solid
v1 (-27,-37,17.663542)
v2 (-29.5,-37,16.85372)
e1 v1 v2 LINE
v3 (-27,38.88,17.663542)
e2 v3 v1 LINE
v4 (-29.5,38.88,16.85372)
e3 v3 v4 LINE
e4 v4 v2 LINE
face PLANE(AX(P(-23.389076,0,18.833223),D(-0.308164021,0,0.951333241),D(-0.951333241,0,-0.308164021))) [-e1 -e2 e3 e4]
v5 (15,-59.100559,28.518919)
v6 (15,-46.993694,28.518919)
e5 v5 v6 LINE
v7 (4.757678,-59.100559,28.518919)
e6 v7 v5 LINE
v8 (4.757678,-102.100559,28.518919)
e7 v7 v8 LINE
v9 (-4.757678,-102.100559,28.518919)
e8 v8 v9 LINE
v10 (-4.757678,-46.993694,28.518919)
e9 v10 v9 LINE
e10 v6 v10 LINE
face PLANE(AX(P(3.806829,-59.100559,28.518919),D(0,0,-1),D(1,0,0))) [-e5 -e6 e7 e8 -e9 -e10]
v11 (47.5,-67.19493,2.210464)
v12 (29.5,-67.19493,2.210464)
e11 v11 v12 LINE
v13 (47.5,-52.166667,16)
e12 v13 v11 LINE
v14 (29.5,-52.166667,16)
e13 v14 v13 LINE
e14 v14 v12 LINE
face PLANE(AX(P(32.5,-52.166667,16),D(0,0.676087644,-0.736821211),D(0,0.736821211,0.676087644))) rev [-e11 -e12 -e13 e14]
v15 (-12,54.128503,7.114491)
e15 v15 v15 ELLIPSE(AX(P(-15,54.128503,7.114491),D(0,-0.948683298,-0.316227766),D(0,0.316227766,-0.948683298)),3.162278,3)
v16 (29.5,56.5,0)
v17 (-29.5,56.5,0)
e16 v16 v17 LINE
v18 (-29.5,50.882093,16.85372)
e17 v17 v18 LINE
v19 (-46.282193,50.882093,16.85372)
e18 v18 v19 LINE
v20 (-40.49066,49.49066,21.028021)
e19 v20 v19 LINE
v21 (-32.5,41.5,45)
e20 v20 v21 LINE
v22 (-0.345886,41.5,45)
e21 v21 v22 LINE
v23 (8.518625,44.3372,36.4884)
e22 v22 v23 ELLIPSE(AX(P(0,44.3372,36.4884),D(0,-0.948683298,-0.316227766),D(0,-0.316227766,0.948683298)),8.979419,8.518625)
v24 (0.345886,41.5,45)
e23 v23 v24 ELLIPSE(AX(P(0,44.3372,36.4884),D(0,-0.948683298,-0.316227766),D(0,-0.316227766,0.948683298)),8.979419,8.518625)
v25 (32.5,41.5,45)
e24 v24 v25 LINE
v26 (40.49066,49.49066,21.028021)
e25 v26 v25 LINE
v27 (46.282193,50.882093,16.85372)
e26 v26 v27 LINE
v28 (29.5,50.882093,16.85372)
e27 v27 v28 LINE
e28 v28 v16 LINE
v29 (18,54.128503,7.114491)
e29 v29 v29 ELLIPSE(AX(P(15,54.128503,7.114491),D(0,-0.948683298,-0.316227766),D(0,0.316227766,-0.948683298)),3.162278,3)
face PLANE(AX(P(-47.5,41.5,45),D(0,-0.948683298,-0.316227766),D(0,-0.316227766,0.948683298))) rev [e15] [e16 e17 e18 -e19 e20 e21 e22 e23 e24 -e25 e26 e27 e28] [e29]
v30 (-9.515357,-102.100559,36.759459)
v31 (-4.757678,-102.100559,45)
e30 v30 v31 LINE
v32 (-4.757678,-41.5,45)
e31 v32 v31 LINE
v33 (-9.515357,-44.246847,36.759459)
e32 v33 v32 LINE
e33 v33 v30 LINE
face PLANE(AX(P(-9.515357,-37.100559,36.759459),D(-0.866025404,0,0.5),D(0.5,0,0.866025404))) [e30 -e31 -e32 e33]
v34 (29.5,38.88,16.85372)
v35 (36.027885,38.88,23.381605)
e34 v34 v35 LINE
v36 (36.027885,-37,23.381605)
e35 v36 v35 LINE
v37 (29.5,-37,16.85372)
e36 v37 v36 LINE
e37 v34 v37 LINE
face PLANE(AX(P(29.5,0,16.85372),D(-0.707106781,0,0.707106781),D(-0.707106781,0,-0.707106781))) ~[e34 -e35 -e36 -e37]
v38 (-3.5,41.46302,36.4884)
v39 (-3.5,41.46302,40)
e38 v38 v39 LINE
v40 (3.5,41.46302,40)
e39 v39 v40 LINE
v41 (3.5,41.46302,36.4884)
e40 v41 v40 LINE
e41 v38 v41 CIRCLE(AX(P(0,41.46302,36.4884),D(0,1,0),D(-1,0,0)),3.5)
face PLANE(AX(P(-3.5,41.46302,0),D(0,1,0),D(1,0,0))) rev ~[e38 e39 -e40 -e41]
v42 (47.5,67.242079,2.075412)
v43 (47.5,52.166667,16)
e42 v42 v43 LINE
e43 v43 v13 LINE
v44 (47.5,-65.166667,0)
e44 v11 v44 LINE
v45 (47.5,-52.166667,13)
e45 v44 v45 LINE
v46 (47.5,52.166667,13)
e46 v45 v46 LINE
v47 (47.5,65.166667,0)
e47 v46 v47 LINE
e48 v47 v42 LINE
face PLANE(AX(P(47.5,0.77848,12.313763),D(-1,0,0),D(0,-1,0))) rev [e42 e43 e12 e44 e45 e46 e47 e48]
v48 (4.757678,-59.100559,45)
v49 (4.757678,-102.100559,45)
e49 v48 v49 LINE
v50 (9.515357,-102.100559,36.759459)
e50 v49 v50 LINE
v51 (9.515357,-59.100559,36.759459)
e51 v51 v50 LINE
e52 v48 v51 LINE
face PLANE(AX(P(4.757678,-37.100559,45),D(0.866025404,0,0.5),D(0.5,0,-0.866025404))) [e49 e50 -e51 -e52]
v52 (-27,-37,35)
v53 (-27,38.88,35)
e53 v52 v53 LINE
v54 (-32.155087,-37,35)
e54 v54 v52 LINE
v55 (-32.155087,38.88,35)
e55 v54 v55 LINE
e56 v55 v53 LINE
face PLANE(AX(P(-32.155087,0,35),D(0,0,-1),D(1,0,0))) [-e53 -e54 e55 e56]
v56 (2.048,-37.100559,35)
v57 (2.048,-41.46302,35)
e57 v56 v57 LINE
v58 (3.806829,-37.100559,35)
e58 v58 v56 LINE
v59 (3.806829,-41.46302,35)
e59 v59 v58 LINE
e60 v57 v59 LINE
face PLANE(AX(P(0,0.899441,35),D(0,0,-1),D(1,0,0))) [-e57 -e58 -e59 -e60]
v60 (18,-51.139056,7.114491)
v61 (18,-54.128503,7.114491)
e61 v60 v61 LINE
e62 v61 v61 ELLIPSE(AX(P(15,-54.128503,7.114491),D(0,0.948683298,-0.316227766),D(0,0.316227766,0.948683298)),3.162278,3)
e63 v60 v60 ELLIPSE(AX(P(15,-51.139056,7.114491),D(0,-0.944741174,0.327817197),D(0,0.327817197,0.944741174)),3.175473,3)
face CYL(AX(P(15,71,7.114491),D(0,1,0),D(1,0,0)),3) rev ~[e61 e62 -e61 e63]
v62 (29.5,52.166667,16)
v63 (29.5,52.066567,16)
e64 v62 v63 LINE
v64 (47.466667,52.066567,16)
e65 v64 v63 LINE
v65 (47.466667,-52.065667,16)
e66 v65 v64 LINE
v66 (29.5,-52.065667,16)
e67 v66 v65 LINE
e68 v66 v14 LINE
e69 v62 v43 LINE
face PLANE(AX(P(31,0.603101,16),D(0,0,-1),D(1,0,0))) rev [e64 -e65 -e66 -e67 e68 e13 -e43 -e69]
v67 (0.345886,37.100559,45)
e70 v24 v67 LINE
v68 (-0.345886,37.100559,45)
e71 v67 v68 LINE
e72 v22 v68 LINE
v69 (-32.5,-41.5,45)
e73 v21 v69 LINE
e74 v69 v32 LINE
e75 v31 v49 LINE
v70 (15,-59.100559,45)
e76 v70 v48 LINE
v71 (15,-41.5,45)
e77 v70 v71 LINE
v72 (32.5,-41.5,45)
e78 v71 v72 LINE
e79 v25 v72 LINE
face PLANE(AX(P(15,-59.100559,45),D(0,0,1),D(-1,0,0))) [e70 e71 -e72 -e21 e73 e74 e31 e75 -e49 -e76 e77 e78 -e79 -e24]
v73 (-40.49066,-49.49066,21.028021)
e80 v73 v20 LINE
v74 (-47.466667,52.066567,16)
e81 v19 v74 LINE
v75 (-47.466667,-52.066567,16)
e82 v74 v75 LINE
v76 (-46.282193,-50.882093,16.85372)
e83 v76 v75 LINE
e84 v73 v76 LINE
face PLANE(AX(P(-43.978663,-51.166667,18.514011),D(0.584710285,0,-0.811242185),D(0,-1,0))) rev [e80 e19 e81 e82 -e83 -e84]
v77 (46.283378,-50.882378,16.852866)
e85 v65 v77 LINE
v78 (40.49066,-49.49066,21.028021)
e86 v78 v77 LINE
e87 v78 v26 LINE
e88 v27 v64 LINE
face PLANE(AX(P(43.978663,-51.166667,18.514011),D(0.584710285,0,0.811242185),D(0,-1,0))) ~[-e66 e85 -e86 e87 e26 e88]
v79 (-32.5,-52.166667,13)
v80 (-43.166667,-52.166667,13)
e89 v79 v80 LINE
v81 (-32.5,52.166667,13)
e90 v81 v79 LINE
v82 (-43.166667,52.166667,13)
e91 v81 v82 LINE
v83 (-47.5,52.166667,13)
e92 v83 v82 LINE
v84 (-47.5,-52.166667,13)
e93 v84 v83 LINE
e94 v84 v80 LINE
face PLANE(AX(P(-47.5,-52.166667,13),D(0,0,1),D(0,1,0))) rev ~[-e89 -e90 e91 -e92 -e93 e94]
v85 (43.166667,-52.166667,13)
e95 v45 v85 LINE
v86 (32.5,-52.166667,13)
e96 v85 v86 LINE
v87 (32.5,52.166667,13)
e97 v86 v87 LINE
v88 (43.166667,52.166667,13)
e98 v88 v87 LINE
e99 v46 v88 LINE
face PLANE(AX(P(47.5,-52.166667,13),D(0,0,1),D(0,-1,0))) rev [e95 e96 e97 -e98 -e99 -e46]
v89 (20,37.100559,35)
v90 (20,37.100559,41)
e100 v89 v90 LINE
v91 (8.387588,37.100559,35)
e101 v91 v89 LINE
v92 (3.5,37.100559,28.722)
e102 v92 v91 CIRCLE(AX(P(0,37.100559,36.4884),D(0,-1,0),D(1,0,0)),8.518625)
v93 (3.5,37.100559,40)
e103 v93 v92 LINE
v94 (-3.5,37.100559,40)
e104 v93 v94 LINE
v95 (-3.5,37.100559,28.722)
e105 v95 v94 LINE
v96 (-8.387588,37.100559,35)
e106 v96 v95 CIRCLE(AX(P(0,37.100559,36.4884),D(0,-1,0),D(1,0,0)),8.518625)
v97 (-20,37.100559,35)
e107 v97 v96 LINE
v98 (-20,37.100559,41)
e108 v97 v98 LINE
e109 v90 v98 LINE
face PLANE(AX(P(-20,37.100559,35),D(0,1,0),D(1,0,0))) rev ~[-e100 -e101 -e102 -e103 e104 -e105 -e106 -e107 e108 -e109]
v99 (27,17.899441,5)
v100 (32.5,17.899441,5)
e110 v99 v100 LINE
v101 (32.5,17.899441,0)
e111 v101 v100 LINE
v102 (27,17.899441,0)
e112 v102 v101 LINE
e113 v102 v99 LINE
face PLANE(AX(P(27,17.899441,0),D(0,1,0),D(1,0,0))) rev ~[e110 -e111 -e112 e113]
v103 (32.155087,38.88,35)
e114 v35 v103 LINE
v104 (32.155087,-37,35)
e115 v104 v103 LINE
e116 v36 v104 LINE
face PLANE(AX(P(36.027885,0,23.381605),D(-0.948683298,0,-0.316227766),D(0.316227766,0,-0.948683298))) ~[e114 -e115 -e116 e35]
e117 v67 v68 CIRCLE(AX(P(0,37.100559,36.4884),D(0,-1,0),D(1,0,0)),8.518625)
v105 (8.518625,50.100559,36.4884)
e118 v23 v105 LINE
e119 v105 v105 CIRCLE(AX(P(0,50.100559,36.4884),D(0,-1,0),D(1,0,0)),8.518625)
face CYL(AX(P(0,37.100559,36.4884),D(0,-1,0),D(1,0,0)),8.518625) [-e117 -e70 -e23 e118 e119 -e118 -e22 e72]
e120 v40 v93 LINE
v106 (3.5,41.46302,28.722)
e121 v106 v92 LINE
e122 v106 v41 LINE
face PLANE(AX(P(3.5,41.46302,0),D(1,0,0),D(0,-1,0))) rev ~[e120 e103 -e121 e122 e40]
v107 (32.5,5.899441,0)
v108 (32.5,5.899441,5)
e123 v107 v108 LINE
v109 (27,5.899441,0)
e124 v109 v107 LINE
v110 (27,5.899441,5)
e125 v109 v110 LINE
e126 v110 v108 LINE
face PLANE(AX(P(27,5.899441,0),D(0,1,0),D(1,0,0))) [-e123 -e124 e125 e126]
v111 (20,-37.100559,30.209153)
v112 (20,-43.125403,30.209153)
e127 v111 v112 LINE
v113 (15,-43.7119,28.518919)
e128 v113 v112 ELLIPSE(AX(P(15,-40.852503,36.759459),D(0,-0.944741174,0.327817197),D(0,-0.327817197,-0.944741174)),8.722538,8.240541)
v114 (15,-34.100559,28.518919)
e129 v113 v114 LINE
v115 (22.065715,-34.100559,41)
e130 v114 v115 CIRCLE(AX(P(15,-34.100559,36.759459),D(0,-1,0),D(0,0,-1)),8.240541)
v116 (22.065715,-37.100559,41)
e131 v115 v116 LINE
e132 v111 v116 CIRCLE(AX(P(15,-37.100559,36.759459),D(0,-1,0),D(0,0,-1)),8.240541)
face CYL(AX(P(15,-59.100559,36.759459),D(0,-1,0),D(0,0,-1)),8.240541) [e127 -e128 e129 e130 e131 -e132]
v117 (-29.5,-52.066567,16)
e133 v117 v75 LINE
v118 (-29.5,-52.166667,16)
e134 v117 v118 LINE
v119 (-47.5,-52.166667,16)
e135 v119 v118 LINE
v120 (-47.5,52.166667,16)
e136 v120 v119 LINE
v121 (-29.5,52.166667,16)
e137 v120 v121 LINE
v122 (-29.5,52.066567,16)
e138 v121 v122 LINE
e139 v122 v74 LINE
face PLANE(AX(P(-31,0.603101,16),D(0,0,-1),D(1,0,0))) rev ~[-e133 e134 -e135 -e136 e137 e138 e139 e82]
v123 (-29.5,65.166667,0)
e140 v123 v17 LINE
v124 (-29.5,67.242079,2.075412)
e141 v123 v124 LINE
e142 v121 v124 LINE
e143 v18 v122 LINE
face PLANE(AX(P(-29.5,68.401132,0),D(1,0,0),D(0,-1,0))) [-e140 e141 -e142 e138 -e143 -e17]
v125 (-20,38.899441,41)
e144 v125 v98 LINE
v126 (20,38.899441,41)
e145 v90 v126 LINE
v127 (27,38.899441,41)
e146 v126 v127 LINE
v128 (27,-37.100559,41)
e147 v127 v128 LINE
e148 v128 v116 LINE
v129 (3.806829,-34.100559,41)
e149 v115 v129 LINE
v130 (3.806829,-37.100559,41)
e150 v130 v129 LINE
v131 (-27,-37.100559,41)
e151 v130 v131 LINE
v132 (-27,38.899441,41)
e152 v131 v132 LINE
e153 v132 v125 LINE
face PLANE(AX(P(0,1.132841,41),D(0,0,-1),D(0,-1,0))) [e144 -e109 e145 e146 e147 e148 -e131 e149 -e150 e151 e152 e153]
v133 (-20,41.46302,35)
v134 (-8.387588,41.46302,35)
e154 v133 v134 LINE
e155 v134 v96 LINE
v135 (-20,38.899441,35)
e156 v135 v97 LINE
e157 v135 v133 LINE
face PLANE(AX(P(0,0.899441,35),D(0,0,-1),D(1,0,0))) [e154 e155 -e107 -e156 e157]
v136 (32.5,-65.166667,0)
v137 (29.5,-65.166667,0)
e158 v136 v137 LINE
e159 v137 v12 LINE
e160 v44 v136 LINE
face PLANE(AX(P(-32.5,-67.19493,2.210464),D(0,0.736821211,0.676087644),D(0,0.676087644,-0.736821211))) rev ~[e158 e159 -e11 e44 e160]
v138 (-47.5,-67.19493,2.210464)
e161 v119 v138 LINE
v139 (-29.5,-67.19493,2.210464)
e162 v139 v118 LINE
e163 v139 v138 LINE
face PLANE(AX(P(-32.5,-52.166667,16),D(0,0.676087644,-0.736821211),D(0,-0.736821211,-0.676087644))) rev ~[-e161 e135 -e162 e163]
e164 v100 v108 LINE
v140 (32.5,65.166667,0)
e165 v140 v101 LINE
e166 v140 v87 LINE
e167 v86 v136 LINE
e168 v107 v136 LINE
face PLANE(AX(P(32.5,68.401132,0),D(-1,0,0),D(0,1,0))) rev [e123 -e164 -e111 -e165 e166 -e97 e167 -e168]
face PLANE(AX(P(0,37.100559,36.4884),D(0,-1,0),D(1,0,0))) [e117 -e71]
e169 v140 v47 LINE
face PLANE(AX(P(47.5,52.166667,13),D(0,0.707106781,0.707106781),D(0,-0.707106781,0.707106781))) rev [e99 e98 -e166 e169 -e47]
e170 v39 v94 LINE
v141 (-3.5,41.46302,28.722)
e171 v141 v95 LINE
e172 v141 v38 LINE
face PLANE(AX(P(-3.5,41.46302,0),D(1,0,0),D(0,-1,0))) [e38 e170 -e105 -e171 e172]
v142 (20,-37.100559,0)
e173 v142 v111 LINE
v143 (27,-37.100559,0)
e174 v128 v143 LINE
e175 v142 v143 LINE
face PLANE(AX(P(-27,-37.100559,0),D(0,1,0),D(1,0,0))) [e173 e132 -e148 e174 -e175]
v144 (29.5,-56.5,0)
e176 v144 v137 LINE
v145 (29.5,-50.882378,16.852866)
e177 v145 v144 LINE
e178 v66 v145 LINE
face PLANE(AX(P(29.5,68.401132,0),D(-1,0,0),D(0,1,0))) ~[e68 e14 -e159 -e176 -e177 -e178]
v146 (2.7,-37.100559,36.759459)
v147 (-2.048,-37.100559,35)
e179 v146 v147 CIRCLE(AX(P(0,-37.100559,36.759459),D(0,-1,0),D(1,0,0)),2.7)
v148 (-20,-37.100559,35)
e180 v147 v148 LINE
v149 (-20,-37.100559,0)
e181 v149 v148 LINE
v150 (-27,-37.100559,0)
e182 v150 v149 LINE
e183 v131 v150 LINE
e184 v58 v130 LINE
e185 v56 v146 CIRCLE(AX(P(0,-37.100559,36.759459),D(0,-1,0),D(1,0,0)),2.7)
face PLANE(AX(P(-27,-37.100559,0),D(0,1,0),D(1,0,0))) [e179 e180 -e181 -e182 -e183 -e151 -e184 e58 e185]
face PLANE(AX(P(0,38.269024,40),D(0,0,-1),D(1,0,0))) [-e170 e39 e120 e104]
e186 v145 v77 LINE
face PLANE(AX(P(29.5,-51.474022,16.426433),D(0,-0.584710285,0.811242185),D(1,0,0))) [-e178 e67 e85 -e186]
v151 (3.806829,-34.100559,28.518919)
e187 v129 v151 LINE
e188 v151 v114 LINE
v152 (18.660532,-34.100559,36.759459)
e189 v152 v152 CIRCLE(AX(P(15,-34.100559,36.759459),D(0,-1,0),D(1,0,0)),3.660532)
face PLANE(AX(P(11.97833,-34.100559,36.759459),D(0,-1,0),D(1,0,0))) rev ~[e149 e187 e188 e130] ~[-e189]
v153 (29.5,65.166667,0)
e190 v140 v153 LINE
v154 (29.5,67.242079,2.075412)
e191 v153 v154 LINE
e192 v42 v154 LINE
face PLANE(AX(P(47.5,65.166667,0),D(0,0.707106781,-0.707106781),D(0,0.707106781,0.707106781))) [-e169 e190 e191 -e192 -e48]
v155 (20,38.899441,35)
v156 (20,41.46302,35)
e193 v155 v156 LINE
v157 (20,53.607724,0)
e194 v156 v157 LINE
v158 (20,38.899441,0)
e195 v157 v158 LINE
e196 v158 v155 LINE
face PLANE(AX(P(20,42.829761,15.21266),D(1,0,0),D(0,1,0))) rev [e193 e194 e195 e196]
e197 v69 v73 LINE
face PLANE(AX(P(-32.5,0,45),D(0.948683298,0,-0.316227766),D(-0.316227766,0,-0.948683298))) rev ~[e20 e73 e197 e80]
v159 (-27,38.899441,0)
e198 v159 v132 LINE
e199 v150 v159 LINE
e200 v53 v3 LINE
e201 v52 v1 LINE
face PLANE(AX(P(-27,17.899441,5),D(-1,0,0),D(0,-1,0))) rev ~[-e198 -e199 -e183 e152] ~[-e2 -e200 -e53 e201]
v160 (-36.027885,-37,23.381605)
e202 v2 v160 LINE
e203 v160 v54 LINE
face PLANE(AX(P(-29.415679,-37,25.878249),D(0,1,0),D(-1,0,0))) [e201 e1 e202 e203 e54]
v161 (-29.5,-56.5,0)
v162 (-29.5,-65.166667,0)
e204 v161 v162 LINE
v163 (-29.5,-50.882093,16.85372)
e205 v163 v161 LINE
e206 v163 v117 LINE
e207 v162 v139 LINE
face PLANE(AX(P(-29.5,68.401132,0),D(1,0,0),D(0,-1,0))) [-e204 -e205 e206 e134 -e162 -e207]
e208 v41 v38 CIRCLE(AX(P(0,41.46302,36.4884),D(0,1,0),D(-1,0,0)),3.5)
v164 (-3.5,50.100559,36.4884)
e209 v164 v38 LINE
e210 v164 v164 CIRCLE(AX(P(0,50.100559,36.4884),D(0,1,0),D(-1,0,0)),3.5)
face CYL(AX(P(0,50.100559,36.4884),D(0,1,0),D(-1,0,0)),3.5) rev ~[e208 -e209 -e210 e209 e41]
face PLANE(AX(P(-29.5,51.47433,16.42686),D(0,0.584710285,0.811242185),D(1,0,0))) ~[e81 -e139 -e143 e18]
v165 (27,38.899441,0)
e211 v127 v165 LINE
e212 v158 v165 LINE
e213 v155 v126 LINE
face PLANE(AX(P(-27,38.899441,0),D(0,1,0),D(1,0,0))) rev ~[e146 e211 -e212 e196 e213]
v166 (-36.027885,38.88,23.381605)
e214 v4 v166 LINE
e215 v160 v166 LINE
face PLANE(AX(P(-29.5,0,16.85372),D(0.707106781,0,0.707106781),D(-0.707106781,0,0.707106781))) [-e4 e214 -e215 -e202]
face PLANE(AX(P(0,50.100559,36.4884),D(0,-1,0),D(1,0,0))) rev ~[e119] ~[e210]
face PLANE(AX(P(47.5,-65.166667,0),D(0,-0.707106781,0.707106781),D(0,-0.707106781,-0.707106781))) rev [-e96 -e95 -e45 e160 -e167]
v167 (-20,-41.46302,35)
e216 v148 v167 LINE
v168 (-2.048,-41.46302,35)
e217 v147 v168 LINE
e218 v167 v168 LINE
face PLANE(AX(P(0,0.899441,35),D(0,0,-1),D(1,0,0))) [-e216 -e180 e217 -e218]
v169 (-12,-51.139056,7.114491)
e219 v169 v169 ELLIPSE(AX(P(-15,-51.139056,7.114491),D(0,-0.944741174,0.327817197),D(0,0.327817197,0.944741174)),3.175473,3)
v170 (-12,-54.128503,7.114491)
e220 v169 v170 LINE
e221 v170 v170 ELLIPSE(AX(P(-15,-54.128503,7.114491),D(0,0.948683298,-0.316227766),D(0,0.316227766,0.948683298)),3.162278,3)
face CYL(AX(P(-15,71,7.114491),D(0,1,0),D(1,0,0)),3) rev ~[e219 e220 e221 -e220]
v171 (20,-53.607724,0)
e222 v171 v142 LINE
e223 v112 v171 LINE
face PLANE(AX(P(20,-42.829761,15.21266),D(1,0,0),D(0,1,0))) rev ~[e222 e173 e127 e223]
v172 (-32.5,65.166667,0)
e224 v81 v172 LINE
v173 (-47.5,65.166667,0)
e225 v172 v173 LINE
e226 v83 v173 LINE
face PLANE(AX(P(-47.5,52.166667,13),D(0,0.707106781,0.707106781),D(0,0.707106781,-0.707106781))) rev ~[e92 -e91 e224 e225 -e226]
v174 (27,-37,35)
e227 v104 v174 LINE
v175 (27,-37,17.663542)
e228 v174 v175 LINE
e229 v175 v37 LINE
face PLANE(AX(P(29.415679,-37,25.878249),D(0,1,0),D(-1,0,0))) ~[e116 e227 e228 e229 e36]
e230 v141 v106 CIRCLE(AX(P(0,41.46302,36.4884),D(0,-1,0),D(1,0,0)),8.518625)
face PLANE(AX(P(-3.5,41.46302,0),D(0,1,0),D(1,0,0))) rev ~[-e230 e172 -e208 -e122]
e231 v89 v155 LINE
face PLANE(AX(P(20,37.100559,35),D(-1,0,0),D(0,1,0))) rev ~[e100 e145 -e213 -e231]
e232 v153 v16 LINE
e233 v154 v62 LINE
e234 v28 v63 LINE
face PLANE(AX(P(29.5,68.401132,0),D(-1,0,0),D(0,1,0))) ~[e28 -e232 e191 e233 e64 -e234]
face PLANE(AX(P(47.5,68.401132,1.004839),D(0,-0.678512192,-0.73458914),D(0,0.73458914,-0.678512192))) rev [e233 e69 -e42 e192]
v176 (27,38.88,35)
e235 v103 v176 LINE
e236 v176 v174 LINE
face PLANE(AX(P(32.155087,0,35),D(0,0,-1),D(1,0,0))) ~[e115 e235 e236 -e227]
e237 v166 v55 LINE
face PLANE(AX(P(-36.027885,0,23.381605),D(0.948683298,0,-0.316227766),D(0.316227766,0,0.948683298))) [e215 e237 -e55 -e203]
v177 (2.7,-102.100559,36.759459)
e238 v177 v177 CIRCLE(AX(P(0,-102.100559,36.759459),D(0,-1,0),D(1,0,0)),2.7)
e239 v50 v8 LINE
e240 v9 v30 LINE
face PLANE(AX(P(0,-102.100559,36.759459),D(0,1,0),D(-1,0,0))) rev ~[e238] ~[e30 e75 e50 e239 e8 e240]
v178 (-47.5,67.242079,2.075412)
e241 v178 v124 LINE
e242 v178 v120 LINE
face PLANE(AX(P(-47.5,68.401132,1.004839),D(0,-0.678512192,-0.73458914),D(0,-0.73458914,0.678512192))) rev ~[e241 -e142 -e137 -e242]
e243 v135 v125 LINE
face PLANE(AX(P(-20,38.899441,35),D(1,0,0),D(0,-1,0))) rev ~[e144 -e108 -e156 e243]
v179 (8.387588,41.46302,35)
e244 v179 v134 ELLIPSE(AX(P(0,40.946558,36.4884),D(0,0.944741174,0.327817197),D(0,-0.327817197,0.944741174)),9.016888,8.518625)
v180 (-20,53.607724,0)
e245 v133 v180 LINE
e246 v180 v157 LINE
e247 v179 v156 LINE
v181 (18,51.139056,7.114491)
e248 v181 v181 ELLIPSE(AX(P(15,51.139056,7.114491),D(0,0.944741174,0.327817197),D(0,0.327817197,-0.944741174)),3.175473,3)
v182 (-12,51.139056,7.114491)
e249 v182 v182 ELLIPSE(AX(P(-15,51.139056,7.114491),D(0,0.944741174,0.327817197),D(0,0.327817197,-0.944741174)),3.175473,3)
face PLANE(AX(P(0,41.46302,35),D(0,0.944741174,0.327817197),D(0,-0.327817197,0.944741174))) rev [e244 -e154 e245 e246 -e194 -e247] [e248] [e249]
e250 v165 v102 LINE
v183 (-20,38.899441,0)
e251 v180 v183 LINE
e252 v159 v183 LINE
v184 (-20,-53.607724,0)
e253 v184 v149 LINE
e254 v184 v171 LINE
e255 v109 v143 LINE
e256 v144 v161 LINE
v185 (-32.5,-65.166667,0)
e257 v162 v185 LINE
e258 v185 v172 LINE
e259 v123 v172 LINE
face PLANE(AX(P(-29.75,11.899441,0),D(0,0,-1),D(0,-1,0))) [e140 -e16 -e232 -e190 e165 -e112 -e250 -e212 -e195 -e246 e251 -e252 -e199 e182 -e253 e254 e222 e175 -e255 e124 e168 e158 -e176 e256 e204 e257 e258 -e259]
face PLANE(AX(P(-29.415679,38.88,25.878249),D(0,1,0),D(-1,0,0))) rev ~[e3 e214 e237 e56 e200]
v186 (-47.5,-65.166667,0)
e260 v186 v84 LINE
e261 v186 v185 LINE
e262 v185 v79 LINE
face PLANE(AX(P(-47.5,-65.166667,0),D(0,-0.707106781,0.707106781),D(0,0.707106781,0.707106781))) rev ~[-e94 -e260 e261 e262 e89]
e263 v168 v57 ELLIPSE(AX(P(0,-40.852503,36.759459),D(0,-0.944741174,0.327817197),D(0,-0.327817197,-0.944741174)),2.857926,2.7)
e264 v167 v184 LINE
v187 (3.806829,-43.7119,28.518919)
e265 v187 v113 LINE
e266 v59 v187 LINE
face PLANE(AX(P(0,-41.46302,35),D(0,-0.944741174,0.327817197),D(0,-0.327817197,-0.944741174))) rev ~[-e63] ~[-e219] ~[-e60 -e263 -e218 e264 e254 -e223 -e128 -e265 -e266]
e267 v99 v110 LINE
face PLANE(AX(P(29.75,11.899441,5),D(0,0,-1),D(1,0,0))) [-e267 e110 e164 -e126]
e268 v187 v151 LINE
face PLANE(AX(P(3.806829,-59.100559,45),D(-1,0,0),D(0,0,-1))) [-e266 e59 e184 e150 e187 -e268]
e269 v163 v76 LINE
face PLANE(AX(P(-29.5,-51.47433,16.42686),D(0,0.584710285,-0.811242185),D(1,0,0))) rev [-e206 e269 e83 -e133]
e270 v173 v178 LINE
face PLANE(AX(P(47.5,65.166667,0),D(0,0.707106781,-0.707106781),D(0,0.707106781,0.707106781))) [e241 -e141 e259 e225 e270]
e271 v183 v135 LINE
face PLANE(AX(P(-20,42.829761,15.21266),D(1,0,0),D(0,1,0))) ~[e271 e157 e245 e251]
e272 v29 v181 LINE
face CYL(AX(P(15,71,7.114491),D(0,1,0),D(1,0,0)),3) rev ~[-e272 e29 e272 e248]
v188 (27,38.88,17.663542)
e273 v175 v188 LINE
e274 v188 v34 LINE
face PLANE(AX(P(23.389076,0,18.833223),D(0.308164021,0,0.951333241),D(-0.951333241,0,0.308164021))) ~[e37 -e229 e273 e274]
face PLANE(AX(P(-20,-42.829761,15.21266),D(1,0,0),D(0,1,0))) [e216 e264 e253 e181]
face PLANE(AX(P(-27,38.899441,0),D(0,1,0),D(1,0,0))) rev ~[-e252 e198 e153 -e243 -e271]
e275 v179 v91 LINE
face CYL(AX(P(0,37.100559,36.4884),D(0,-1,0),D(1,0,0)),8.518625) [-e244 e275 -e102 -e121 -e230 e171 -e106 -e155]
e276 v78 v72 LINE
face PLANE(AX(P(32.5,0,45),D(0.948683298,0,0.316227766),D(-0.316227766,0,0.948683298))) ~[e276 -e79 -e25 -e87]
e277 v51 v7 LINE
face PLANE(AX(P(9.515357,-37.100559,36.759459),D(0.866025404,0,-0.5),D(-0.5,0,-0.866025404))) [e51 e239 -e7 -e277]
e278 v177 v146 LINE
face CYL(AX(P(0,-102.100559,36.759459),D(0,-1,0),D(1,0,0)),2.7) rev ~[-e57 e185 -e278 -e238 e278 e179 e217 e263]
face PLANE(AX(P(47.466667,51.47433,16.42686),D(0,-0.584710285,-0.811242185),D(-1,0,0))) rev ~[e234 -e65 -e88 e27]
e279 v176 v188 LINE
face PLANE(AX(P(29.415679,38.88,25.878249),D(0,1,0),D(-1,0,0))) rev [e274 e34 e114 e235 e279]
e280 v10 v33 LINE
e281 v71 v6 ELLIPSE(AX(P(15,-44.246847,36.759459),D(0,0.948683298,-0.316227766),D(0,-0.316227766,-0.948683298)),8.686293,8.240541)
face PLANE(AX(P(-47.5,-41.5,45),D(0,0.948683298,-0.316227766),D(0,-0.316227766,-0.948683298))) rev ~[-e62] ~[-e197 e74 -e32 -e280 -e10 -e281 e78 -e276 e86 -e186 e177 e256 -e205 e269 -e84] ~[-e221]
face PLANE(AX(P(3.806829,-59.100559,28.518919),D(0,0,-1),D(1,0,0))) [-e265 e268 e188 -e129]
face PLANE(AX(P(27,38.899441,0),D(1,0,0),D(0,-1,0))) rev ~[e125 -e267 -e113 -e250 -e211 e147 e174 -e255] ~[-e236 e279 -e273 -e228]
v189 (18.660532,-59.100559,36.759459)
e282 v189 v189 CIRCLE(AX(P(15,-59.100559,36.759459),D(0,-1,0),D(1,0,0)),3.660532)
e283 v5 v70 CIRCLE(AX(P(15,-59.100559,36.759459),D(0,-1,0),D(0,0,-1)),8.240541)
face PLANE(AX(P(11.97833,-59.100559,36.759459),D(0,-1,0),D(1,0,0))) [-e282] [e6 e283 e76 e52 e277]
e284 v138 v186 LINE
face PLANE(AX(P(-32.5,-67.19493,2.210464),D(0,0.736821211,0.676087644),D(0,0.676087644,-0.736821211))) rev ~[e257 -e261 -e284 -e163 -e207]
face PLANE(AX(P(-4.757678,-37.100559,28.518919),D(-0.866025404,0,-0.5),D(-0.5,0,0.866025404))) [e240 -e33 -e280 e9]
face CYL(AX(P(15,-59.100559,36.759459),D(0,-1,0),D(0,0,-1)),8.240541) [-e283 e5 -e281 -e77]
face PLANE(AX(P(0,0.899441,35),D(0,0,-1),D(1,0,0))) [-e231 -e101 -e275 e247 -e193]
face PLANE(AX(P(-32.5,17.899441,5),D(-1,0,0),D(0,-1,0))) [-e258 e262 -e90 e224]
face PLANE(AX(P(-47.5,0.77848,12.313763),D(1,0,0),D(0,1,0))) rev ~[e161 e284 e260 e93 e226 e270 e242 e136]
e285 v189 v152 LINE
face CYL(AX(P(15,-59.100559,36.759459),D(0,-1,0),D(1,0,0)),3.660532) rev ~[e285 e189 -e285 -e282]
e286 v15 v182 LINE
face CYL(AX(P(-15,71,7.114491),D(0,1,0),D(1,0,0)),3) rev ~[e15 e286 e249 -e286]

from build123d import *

# Parameters (mm, degrees)
SKETCH_W             = 65
SKETCH_H             = 83
PAD_DEPTH            = 45
SKETCH001_W          = 83
SKETCH001_H          = 32
PAD001_DEPTH         = 15
PAD002_DEPTH         = 15
POCKET_DEPTH         = 403.6691065481
POCKET001_DEPTH      = 500
POCKET001_DEPTH_BACK = 100
PAD003_DEPTH         = 16
SKETCH007_W          = 3
SKETCH007_H          = 135.5960614908
PAD004_DEPTH         = 16
POCKET002_DEPTH      = 414.7315387876
POCKET003_DEPTH      = 5
SKETCH008_W          = 54
SKETCH008_H          = 76
POCKET004_DEPTH      = 35
PAD005_DEPTH         = 65
CHAMFER_SIZE         = 5.3
CHAMFER001_SIZE      = 5.3
CHAMFER002_SIZE      = 0.8999
CHAMFER003_SIZE      = 0.899
CHAMFER004_SIZE      = 0.8999
CHAMFER005_SIZE      = 0.8999
POCKET005_DEPTH      = 80.0010001
POCKET006_DEPTH      = 80.0010001
POCKET007_DEPTH      = 10000
POCKET007_DEPTH_BACK = 100
POCKET008_DEPTH      = 95.001
SKETCH012_W          = 5.5
SKETCH012_H          = 12
POCKET009_DEPTH      = 5
POCKET010_DEPTH      = 20
POCKET010_DEPTH_BACK = 20
POCKET011_DEPTH      = 6
SKETCH014_R          = 8.518625
PAD006_DEPTH         = 13
SKETCH015_R          = 3.5
POCKET012_DEPTH      = 15
SKETCH016_R          = 0.75
POCKET013_DEPTH      = 40
SKETCH018_W          = 5.5
SKETCH018_H          = 12
POCKET014_DEPTH      = 5
POCKET014_FACE131_W  = 12
POCKET014_FACE131_H  = 5.5
PAD007_DEPTH         = 5
POCKET015_DEPTH      = 38.88
POCKET015_DEPTH_BACK = 37
SKETCH020_R          = 3
POCKET016_DEPTH      = 173.1015589479
SKETCH021_R          = 2.7
POCKET017_DEPTH      = 70
SKETCH022_R          = 3.6
PAD008_DEPTH         = 25
SKETCH023_R          = 3.660532
POCKET018_DEPTH      = 25
SKETCH024_W          = 7
SKETCH024_H          = 6.387993
POCKET019_DEPTH      = 40


with BuildPart() as part:
    # Sketch → Pad (new body)
    with BuildSketch(Plane.XY):
        Rectangle(SKETCH_W, SKETCH_H)
    extrude(amount=PAD_DEPTH)

    # Sketch001 (on Face4 of Pad) → Pad001 (join)
    with BuildSketch(Plane(origin=(-32.5, 0, 0), x_dir=(0, -1, 0), z_dir=(-1, 0, 0))):
        with Locations((0, 29)):
            Rectangle(SKETCH001_W, SKETCH001_H)
    pad001 = extrude(amount=PAD001_DEPTH)

    # Mirrored: Pad001 across YZ
    add(pad001.mirror(Plane.YZ))

    # Sketch002 (on Face4 of Mirrored) → Pad002 (join)
    with BuildSketch(Plane.XZ.offset(41.5)):
        Polygon((-47.5, 45), (47.5, 45), (47.5, 13), (32.5, 13), (32.5, 0), (-32.5, 0), (-32.5, 13), (-47.5, 13), align=None)
    pad002 = extrude(amount=PAD002_DEPTH)

    # Mirrored001: Pad002 across XZ
    add(pad002.mirror(Plane.XZ))

    # Sketch003 (on Face13 of Mirrored001) → Pocket (cut, through all)
    with BuildSketch(Plane(origin=(-47.5, 0, 0), x_dir=(0, -1, 0), z_dir=(-1, 0, 0))):
        Polygon((41.5, 45), (56.5, 0), (69.973511, 50.863071), align=None)
    pocket = extrude(amount=-POCKET_DEPTH, mode=Mode.SUBTRACT)

    # Mirrored002: Pocket across XZ
    add(pocket.mirror(Plane.XZ), mode=Mode.SUBTRACT)

    # Sketch004 → Pocket001 (cut, two sides)
    with BuildSketch(Plane.XZ) as pocket001_sk:
        Polygon((-32.5, 45), (-47.5, 0), (-68.972275, 31.059837), (-58.790833, 51.045628), align=None)
    pocket001 = extrude(amount=-POCKET001_DEPTH, mode=Mode.SUBTRACT) + extrude(pocket001_sk.sketch, amount=POCKET001_DEPTH_BACK, mode=Mode.SUBTRACT)

    # Mirrored003: Pocket001 across YZ
    add(pocket001.mirror(Plane.YZ), mode=Mode.SUBTRACT)

    # Sketch006 (on DatumPlane) → Pad003 (join)
    with BuildSketch(Plane(origin=(-47.5, 0, 4), x_dir=(0, -1, 0), z_dir=(-1, 0, 0))):
        Polygon((-68.401131891, -2.9951612268), (-52.1666666667, 12), (52.1666666667, 12), (67.1949295998, -1.7895363668), (65.1666666666, -4), (52.1666666667, 9), (-52.1666666667, 9), (-66.3655953138, -5.1989286472), align=None)
    pad003 = extrude(amount=-PAD003_DEPTH)

    # Sketch007 (on Face8 of Pad003) → Pad004 (join)
    with BuildSketch(Plane(origin=(0, 0, 0), x_dir=(1, 0, 0), z_dir=(0, 0, -1))):
        with Locations((-31, -0.6031011456)):
            Rectangle(SKETCH007_W, SKETCH007_H)
    pad004 = extrude(amount=-PAD004_DEPTH)

    # Pad004 Face41 → Pocket002 (cut, through all)
    with BuildSketch(Plane(origin=(-32.5, 62.9896434829, 11.0016129244), x_dir=(0, 1, 0), z_dir=(-1, 0, 0))):
        Polygon((5.4114884081, -4.9983870756), (5.4114884081, 9.9967741512), (-10.8229768162, -4.9983870756), align=None)
    pocket002 = extrude(amount=-POCKET002_DEPTH, mode=Mode.SUBTRACT)

    # Pocket002 Face27 → Pocket003 (cut)
    with BuildSketch(Plane(origin=(-32.5, -62.1855086221, 11.4034878777), x_dir=(0, 1, 0), z_dir=(-1, 0, 0))):
        Polygon((10.0188419554, -4.5965121223), (-5.0094209777, 9.1930242445), (-5.0094209777, -4.5965121223), align=None)
    pocket003 = extrude(amount=-POCKET003_DEPTH, mode=Mode.SUBTRACT)

    # Mirrored004: Pad003 across YZ
    add(pad003.mirror(Plane.YZ))

    # Mirrored005: Pad004 across YZ
    add(pad004.mirror(Plane.YZ))

    # Mirrored006: Pocket002 across YZ
    add(pocket002.mirror(Plane.YZ), mode=Mode.SUBTRACT)

    # Mirrored007: Pocket003 across YZ
    add(pocket003.mirror(Plane.YZ), mode=Mode.SUBTRACT)

    # Sketch008 (on Face8 of Mirrored007) → Pocket004 (cut)
    with BuildSketch(Plane(origin=(0, 0, 0), x_dir=(1, 0, 0), z_dir=(0, 0, -1))):
        with Locations((0, -0.8994410524)):
            Rectangle(SKETCH008_W, SKETCH008_H)
    extrude(amount=-POCKET004_DEPTH, mode=Mode.SUBTRACT)

    # Sketch009 (on Face24 of Pocket004) → Pad005 (join)
    with BuildSketch(Plane(origin=(0, -37.1005589476, 0), x_dir=(-1, 0, 0), z_dir=(0, 1, 0))):
        Polygon((-4.7576784019, 45), (-9.5153568039, 36.7594592818), (-4.7576784019, 28.5189185635), (4.7576784019, 28.5189185635), (9.5153568039, 36.7594592818), (4.7576784019, 45), align=None)
    extrude(amount=-PAD005_DEPTH)

    # Chamfer
    chamfer_edges = [part.edges().sort_by_distance(p)[0] for p in [
        (42.166667, 0, 16),
    ]]
    chamfer(chamfer_edges, length=CHAMFER_SIZE)

    # Chamfer001
    chamfer001_edges = [part.edges().sort_by_distance(p)[0] for p in [
        (-42.166667, 0, 16),
    ]]
    chamfer(chamfer001_edges, length=CHAMFER001_SIZE)

    # Chamfer002
    chamfer002_edges = [part.edges().sort_by_distance(p)[0] for p in [
        (-44.816667, -51.166667, 16),
        (-37.333333, -51.166667, 16),
        (-32, -51.166667, 16),
        (-30.5, -51.166667, 16),
    ]]
    chamfer(chamfer002_edges, length=CHAMFER002_SIZE)

    # Chamfer003
    chamfer003_edges = [part.edges().sort_by_distance(p)[0] for p in [
        (30.5, -51.166667, 16),
        (32, -51.166667, 16),
        (37.333333, -51.166667, 16),
        (44.816667, -51.166667, 16),
    ]]
    chamfer(chamfer003_edges, length=CHAMFER003_SIZE)

    # Chamfer004
    chamfer004_edges = [part.edges().sort_by_distance(p)[0] for p in [
        (-30.5, 51.166667, 16),
        (-32, 51.166667, 16),
        (-37.333333, 51.166667, 16),
        (-44.816667, 51.166667, 16),
    ]]
    chamfer(chamfer004_edges, length=CHAMFER004_SIZE)

    # Chamfer005
    chamfer005_edges = [part.edges().sort_by_distance(p)[0] for p in [
        (44.816667, 51.166667, 16),
        (37.333333, 51.166667, 16),
        (32, 51.166667, 16),
        (30.5, 51.166667, 16),
    ]]
    chamfer(chamfer005_edges, length=CHAMFER005_SIZE)

    # Chamfer005 Face72 → Pocket005 (cut, through all)
    with BuildSketch(Plane(origin=(-32.5, 68.0917547069, 0.3349462577), x_dir=(0, 1, 0), z_dir=(-1, 0, 0))):
        Polygon((0.3093771841, 0.3349462577), (-0.6187543683, 0.3349462577), (0.3093771841, -0.6698925155), align=None)
    extrude(amount=-POCKET005_DEPTH, mode=Mode.SUBTRACT)

    # Pocket005 Face105 → Pocket006 (cut, through all)
    with BuildSketch(Plane(origin=(-32.5, -66.5188419554, 0.7368212111), x_dir=(0, 1, 0), z_dir=(-1, 0, 0))):
        Polygon((-0.6760876444, -1.4736424221), (1.3521752888, 0.7368212111), (-0.6760876444, 0.7368212111), align=None)
    extrude(amount=-POCKET006_DEPTH, mode=Mode.SUBTRACT)

    # Pocket006 Face73 → Pocket007 (cut, two sides)
    with BuildSketch(Plane(origin=(-31.5, 66.3350874397, -0.3996428824), x_dir=(0, -1, 0), z_dir=(1, 0, 0))) as pocket007_sk:
        Polygon((1.168420773, -0.3996428824), (-0.0305078741, 0.7992857648), (-1.1379128989, -0.3996428824), align=None)
    extrude(amount=-POCKET007_DEPTH, mode=Mode.SUBTRACT)
    extrude(pocket007_sk.sketch, amount=POCKET007_DEPTH_BACK, mode=Mode.SUBTRACT)

    # Sketch011 (on Face39 of Pocket007) → Pocket008 (cut, through all)
    with BuildSketch(Plane.YZ.offset(47.5)):
        Polygon((65.1666666667, 0), (68.818161, 3.6514943333), (70.985268, 1.013342), (68.517616, -0.789946), align=None)
    extrude(amount=-POCKET008_DEPTH, mode=Mode.SUBTRACT)

    # Sketch012 (on Face30 of Pocket008) → Pocket009 (cut)
    with BuildSketch(Plane(origin=(0, 0, 0), x_dir=(1, 0, 0), z_dir=(0, 0, -1))):
        with Locations((-29.75, -11.8994410524)):
            Rectangle(SKETCH012_W, SKETCH012_H)
    extrude(amount=-POCKET009_DEPTH, mode=Mode.SUBTRACT)

    # Sketch013 → Pocket010 (cut, two sides)
    with BuildSketch(Plane.YZ) as pocket010_sk:
        Polygon((-37.1005589476, 35), (-41.46302, 35), (-53.607724, 0), (-37.1005589476, 0), align=None)
    pocket010 = extrude(amount=-POCKET010_DEPTH, mode=Mode.SUBTRACT) + extrude(pocket010_sk.sketch, amount=POCKET010_DEPTH_BACK, mode=Mode.SUBTRACT)

    # Mirrored008: Pocket010 across XZ
    add(pocket010.mirror(Plane.XZ), mode=Mode.SUBTRACT)

    # Mirrored008 Face101 → Pocket011 (cut)
    with BuildSketch(Plane(origin=(0, 0.2373498677, 35), x_dir=(0, -1, 0), z_dir=(0, 0, -1))):
        Polygon((37.3379088153, 27), (-38.6620911847, 27), (-38.6620911847, 20), (-36.86320908, 20), (-36.86320908, -20), (-38.6620911847, -20), (-38.6620911847, -27), (37.3379088153, -27), (37.3379088153, -20), (37.3379088153, -8.4995325139), (37.3379088153, 8.4995325139), (37.3379088153, 20), align=None)
    extrude(amount=-POCKET011_DEPTH, mode=Mode.SUBTRACT)

    # Sketch014 (on Face128 of Pocket011) → Pad006 (join)
    with BuildSketch(Plane.XZ.offset(-37.1005589476)):
        with Locations((0, 36.4884)):
            Circle(SKETCH014_R)
    extrude(amount=-PAD006_DEPTH)

    # Sketch015 (on Face43 of Pad006) → Pocket012 (cut)
    with BuildSketch(Plane(origin=(0, 50.1005589476, 0), x_dir=(-1, 0, 0), z_dir=(0, 1, 0))):
        with Locations((0, 36.4884)):
            Circle(SKETCH015_R)
    extrude(amount=-POCKET012_DEPTH, mode=Mode.SUBTRACT)

    # Sketch016 (on Face67 of Pocket012) → Pocket013 (cut)
    with BuildSketch(Plane.XZ.offset(102.1005589476)):
        with Locations((0, 57.966855919)):
            Circle(SKETCH016_R)
    extrude(amount=-POCKET013_DEPTH, mode=Mode.SUBTRACT)

    # Sketch018 → Pocket014 (cut)
    with BuildSketch(Plane(origin=(0, 0, 0), x_dir=(1, 0, 0), z_dir=(0, 0, -1))):
        with Locations((29.75, -11.8994410524)):
            Rectangle(SKETCH018_W, SKETCH018_H)
    extrude(amount=-POCKET014_DEPTH, mode=Mode.SUBTRACT)

    # Pocket014 Face131 → Pad007 (add)
    with BuildSketch(Plane(origin=(-29.75, 11.8994410524, 5), x_dir=(0, -1, 0), z_dir=(0, 0, -1))):
        Rectangle(POCKET014_FACE131_W, POCKET014_FACE131_H)
    extrude(amount=PAD007_DEPTH)

    # Sketch019 → Pocket015 (cut, two sides)
    with BuildSketch(Plane.XZ) as pocket015_sk:
        Polygon((-29.5, 16.8537200999), (-36.0278850321, 23.381605132), (-32.1550867428, 35), (-27, 35), (-23.389076, 18.833223), align=None)
    pocket015 = extrude(amount=-POCKET015_DEPTH, mode=Mode.SUBTRACT) + extrude(pocket015_sk.sketch, amount=POCKET015_DEPTH_BACK, mode=Mode.SUBTRACT)

    # Mirrored009: Pocket015 across YZ
    add(pocket015.mirror(Plane.YZ), mode=Mode.SUBTRACT)

    # Sketch020 (on DatumPlane) → Pocket016 (cut, through all)
    with BuildSketch(Plane(origin=(0, 71, 34), x_dir=(1, 0, 0), z_dir=(0, 1, 0))):
        with Locations((-15, 26.885509115)):
            Circle(SKETCH020_R)
        with Locations((15, 26.885509115)):
            Circle(SKETCH020_R)
    extrude(amount=-POCKET016_DEPTH, mode=Mode.SUBTRACT)

    # Sketch021 (on Face71 of Pocket016) → Pocket017 (cut)
    with BuildSketch(Plane.XZ.offset(102.1005589476)):
        with Locations((0, 36.7594592818)):
            Circle(SKETCH021_R)
    extrude(amount=-POCKET017_DEPTH, mode=Mode.SUBTRACT)

    # Sketch022 (on DatumPlane) → Pad008 (join)
    with BuildSketch(Plane(origin=(15, -59.1005589476, 12), x_dir=(1, 0, 0), z_dir=(0, -1, 0))):
        with BuildLine():
            ThreePointArc((0, 16.5189185635), (8.2405407182, 24.7594592818), (0, 33))
            Line((0, 33), (-11.193171, 33))
            Line((-11.193171, 33), (-11.193171, 16.5189185635))
            Line((-11.193171, 16.5189185635), (0, 16.5189185635))
        make_face()
        with Locations((0, 24.7594592818)):
            Circle(SKETCH022_R, mode=Mode.SUBTRACT)
    extrude(amount=-PAD008_DEPTH)

    # Sketch023 (on Face73 of Pad008) → Pocket018 (cut)
    with BuildSketch(Plane.XZ.offset(59.1005589476)):
        with Locations((15, 36.7594592818)):
            Circle(SKETCH023_R)
    extrude(amount=-POCKET018_DEPTH, mode=Mode.SUBTRACT)

    # Sketch024 (on Face13 of Pocket018) → Pocket019 (cut)
    with BuildSketch(Plane(origin=(0, 0, 0), x_dir=(1, 0, 0), z_dir=(0, 0, -1))):
        with Locations((0, -38.2690235)):
            Rectangle(SKETCH024_W, SKETCH024_H)
    extrude(amount=-POCKET019_DEPTH, mode=Mode.SUBTRACT)


solid = part.part
